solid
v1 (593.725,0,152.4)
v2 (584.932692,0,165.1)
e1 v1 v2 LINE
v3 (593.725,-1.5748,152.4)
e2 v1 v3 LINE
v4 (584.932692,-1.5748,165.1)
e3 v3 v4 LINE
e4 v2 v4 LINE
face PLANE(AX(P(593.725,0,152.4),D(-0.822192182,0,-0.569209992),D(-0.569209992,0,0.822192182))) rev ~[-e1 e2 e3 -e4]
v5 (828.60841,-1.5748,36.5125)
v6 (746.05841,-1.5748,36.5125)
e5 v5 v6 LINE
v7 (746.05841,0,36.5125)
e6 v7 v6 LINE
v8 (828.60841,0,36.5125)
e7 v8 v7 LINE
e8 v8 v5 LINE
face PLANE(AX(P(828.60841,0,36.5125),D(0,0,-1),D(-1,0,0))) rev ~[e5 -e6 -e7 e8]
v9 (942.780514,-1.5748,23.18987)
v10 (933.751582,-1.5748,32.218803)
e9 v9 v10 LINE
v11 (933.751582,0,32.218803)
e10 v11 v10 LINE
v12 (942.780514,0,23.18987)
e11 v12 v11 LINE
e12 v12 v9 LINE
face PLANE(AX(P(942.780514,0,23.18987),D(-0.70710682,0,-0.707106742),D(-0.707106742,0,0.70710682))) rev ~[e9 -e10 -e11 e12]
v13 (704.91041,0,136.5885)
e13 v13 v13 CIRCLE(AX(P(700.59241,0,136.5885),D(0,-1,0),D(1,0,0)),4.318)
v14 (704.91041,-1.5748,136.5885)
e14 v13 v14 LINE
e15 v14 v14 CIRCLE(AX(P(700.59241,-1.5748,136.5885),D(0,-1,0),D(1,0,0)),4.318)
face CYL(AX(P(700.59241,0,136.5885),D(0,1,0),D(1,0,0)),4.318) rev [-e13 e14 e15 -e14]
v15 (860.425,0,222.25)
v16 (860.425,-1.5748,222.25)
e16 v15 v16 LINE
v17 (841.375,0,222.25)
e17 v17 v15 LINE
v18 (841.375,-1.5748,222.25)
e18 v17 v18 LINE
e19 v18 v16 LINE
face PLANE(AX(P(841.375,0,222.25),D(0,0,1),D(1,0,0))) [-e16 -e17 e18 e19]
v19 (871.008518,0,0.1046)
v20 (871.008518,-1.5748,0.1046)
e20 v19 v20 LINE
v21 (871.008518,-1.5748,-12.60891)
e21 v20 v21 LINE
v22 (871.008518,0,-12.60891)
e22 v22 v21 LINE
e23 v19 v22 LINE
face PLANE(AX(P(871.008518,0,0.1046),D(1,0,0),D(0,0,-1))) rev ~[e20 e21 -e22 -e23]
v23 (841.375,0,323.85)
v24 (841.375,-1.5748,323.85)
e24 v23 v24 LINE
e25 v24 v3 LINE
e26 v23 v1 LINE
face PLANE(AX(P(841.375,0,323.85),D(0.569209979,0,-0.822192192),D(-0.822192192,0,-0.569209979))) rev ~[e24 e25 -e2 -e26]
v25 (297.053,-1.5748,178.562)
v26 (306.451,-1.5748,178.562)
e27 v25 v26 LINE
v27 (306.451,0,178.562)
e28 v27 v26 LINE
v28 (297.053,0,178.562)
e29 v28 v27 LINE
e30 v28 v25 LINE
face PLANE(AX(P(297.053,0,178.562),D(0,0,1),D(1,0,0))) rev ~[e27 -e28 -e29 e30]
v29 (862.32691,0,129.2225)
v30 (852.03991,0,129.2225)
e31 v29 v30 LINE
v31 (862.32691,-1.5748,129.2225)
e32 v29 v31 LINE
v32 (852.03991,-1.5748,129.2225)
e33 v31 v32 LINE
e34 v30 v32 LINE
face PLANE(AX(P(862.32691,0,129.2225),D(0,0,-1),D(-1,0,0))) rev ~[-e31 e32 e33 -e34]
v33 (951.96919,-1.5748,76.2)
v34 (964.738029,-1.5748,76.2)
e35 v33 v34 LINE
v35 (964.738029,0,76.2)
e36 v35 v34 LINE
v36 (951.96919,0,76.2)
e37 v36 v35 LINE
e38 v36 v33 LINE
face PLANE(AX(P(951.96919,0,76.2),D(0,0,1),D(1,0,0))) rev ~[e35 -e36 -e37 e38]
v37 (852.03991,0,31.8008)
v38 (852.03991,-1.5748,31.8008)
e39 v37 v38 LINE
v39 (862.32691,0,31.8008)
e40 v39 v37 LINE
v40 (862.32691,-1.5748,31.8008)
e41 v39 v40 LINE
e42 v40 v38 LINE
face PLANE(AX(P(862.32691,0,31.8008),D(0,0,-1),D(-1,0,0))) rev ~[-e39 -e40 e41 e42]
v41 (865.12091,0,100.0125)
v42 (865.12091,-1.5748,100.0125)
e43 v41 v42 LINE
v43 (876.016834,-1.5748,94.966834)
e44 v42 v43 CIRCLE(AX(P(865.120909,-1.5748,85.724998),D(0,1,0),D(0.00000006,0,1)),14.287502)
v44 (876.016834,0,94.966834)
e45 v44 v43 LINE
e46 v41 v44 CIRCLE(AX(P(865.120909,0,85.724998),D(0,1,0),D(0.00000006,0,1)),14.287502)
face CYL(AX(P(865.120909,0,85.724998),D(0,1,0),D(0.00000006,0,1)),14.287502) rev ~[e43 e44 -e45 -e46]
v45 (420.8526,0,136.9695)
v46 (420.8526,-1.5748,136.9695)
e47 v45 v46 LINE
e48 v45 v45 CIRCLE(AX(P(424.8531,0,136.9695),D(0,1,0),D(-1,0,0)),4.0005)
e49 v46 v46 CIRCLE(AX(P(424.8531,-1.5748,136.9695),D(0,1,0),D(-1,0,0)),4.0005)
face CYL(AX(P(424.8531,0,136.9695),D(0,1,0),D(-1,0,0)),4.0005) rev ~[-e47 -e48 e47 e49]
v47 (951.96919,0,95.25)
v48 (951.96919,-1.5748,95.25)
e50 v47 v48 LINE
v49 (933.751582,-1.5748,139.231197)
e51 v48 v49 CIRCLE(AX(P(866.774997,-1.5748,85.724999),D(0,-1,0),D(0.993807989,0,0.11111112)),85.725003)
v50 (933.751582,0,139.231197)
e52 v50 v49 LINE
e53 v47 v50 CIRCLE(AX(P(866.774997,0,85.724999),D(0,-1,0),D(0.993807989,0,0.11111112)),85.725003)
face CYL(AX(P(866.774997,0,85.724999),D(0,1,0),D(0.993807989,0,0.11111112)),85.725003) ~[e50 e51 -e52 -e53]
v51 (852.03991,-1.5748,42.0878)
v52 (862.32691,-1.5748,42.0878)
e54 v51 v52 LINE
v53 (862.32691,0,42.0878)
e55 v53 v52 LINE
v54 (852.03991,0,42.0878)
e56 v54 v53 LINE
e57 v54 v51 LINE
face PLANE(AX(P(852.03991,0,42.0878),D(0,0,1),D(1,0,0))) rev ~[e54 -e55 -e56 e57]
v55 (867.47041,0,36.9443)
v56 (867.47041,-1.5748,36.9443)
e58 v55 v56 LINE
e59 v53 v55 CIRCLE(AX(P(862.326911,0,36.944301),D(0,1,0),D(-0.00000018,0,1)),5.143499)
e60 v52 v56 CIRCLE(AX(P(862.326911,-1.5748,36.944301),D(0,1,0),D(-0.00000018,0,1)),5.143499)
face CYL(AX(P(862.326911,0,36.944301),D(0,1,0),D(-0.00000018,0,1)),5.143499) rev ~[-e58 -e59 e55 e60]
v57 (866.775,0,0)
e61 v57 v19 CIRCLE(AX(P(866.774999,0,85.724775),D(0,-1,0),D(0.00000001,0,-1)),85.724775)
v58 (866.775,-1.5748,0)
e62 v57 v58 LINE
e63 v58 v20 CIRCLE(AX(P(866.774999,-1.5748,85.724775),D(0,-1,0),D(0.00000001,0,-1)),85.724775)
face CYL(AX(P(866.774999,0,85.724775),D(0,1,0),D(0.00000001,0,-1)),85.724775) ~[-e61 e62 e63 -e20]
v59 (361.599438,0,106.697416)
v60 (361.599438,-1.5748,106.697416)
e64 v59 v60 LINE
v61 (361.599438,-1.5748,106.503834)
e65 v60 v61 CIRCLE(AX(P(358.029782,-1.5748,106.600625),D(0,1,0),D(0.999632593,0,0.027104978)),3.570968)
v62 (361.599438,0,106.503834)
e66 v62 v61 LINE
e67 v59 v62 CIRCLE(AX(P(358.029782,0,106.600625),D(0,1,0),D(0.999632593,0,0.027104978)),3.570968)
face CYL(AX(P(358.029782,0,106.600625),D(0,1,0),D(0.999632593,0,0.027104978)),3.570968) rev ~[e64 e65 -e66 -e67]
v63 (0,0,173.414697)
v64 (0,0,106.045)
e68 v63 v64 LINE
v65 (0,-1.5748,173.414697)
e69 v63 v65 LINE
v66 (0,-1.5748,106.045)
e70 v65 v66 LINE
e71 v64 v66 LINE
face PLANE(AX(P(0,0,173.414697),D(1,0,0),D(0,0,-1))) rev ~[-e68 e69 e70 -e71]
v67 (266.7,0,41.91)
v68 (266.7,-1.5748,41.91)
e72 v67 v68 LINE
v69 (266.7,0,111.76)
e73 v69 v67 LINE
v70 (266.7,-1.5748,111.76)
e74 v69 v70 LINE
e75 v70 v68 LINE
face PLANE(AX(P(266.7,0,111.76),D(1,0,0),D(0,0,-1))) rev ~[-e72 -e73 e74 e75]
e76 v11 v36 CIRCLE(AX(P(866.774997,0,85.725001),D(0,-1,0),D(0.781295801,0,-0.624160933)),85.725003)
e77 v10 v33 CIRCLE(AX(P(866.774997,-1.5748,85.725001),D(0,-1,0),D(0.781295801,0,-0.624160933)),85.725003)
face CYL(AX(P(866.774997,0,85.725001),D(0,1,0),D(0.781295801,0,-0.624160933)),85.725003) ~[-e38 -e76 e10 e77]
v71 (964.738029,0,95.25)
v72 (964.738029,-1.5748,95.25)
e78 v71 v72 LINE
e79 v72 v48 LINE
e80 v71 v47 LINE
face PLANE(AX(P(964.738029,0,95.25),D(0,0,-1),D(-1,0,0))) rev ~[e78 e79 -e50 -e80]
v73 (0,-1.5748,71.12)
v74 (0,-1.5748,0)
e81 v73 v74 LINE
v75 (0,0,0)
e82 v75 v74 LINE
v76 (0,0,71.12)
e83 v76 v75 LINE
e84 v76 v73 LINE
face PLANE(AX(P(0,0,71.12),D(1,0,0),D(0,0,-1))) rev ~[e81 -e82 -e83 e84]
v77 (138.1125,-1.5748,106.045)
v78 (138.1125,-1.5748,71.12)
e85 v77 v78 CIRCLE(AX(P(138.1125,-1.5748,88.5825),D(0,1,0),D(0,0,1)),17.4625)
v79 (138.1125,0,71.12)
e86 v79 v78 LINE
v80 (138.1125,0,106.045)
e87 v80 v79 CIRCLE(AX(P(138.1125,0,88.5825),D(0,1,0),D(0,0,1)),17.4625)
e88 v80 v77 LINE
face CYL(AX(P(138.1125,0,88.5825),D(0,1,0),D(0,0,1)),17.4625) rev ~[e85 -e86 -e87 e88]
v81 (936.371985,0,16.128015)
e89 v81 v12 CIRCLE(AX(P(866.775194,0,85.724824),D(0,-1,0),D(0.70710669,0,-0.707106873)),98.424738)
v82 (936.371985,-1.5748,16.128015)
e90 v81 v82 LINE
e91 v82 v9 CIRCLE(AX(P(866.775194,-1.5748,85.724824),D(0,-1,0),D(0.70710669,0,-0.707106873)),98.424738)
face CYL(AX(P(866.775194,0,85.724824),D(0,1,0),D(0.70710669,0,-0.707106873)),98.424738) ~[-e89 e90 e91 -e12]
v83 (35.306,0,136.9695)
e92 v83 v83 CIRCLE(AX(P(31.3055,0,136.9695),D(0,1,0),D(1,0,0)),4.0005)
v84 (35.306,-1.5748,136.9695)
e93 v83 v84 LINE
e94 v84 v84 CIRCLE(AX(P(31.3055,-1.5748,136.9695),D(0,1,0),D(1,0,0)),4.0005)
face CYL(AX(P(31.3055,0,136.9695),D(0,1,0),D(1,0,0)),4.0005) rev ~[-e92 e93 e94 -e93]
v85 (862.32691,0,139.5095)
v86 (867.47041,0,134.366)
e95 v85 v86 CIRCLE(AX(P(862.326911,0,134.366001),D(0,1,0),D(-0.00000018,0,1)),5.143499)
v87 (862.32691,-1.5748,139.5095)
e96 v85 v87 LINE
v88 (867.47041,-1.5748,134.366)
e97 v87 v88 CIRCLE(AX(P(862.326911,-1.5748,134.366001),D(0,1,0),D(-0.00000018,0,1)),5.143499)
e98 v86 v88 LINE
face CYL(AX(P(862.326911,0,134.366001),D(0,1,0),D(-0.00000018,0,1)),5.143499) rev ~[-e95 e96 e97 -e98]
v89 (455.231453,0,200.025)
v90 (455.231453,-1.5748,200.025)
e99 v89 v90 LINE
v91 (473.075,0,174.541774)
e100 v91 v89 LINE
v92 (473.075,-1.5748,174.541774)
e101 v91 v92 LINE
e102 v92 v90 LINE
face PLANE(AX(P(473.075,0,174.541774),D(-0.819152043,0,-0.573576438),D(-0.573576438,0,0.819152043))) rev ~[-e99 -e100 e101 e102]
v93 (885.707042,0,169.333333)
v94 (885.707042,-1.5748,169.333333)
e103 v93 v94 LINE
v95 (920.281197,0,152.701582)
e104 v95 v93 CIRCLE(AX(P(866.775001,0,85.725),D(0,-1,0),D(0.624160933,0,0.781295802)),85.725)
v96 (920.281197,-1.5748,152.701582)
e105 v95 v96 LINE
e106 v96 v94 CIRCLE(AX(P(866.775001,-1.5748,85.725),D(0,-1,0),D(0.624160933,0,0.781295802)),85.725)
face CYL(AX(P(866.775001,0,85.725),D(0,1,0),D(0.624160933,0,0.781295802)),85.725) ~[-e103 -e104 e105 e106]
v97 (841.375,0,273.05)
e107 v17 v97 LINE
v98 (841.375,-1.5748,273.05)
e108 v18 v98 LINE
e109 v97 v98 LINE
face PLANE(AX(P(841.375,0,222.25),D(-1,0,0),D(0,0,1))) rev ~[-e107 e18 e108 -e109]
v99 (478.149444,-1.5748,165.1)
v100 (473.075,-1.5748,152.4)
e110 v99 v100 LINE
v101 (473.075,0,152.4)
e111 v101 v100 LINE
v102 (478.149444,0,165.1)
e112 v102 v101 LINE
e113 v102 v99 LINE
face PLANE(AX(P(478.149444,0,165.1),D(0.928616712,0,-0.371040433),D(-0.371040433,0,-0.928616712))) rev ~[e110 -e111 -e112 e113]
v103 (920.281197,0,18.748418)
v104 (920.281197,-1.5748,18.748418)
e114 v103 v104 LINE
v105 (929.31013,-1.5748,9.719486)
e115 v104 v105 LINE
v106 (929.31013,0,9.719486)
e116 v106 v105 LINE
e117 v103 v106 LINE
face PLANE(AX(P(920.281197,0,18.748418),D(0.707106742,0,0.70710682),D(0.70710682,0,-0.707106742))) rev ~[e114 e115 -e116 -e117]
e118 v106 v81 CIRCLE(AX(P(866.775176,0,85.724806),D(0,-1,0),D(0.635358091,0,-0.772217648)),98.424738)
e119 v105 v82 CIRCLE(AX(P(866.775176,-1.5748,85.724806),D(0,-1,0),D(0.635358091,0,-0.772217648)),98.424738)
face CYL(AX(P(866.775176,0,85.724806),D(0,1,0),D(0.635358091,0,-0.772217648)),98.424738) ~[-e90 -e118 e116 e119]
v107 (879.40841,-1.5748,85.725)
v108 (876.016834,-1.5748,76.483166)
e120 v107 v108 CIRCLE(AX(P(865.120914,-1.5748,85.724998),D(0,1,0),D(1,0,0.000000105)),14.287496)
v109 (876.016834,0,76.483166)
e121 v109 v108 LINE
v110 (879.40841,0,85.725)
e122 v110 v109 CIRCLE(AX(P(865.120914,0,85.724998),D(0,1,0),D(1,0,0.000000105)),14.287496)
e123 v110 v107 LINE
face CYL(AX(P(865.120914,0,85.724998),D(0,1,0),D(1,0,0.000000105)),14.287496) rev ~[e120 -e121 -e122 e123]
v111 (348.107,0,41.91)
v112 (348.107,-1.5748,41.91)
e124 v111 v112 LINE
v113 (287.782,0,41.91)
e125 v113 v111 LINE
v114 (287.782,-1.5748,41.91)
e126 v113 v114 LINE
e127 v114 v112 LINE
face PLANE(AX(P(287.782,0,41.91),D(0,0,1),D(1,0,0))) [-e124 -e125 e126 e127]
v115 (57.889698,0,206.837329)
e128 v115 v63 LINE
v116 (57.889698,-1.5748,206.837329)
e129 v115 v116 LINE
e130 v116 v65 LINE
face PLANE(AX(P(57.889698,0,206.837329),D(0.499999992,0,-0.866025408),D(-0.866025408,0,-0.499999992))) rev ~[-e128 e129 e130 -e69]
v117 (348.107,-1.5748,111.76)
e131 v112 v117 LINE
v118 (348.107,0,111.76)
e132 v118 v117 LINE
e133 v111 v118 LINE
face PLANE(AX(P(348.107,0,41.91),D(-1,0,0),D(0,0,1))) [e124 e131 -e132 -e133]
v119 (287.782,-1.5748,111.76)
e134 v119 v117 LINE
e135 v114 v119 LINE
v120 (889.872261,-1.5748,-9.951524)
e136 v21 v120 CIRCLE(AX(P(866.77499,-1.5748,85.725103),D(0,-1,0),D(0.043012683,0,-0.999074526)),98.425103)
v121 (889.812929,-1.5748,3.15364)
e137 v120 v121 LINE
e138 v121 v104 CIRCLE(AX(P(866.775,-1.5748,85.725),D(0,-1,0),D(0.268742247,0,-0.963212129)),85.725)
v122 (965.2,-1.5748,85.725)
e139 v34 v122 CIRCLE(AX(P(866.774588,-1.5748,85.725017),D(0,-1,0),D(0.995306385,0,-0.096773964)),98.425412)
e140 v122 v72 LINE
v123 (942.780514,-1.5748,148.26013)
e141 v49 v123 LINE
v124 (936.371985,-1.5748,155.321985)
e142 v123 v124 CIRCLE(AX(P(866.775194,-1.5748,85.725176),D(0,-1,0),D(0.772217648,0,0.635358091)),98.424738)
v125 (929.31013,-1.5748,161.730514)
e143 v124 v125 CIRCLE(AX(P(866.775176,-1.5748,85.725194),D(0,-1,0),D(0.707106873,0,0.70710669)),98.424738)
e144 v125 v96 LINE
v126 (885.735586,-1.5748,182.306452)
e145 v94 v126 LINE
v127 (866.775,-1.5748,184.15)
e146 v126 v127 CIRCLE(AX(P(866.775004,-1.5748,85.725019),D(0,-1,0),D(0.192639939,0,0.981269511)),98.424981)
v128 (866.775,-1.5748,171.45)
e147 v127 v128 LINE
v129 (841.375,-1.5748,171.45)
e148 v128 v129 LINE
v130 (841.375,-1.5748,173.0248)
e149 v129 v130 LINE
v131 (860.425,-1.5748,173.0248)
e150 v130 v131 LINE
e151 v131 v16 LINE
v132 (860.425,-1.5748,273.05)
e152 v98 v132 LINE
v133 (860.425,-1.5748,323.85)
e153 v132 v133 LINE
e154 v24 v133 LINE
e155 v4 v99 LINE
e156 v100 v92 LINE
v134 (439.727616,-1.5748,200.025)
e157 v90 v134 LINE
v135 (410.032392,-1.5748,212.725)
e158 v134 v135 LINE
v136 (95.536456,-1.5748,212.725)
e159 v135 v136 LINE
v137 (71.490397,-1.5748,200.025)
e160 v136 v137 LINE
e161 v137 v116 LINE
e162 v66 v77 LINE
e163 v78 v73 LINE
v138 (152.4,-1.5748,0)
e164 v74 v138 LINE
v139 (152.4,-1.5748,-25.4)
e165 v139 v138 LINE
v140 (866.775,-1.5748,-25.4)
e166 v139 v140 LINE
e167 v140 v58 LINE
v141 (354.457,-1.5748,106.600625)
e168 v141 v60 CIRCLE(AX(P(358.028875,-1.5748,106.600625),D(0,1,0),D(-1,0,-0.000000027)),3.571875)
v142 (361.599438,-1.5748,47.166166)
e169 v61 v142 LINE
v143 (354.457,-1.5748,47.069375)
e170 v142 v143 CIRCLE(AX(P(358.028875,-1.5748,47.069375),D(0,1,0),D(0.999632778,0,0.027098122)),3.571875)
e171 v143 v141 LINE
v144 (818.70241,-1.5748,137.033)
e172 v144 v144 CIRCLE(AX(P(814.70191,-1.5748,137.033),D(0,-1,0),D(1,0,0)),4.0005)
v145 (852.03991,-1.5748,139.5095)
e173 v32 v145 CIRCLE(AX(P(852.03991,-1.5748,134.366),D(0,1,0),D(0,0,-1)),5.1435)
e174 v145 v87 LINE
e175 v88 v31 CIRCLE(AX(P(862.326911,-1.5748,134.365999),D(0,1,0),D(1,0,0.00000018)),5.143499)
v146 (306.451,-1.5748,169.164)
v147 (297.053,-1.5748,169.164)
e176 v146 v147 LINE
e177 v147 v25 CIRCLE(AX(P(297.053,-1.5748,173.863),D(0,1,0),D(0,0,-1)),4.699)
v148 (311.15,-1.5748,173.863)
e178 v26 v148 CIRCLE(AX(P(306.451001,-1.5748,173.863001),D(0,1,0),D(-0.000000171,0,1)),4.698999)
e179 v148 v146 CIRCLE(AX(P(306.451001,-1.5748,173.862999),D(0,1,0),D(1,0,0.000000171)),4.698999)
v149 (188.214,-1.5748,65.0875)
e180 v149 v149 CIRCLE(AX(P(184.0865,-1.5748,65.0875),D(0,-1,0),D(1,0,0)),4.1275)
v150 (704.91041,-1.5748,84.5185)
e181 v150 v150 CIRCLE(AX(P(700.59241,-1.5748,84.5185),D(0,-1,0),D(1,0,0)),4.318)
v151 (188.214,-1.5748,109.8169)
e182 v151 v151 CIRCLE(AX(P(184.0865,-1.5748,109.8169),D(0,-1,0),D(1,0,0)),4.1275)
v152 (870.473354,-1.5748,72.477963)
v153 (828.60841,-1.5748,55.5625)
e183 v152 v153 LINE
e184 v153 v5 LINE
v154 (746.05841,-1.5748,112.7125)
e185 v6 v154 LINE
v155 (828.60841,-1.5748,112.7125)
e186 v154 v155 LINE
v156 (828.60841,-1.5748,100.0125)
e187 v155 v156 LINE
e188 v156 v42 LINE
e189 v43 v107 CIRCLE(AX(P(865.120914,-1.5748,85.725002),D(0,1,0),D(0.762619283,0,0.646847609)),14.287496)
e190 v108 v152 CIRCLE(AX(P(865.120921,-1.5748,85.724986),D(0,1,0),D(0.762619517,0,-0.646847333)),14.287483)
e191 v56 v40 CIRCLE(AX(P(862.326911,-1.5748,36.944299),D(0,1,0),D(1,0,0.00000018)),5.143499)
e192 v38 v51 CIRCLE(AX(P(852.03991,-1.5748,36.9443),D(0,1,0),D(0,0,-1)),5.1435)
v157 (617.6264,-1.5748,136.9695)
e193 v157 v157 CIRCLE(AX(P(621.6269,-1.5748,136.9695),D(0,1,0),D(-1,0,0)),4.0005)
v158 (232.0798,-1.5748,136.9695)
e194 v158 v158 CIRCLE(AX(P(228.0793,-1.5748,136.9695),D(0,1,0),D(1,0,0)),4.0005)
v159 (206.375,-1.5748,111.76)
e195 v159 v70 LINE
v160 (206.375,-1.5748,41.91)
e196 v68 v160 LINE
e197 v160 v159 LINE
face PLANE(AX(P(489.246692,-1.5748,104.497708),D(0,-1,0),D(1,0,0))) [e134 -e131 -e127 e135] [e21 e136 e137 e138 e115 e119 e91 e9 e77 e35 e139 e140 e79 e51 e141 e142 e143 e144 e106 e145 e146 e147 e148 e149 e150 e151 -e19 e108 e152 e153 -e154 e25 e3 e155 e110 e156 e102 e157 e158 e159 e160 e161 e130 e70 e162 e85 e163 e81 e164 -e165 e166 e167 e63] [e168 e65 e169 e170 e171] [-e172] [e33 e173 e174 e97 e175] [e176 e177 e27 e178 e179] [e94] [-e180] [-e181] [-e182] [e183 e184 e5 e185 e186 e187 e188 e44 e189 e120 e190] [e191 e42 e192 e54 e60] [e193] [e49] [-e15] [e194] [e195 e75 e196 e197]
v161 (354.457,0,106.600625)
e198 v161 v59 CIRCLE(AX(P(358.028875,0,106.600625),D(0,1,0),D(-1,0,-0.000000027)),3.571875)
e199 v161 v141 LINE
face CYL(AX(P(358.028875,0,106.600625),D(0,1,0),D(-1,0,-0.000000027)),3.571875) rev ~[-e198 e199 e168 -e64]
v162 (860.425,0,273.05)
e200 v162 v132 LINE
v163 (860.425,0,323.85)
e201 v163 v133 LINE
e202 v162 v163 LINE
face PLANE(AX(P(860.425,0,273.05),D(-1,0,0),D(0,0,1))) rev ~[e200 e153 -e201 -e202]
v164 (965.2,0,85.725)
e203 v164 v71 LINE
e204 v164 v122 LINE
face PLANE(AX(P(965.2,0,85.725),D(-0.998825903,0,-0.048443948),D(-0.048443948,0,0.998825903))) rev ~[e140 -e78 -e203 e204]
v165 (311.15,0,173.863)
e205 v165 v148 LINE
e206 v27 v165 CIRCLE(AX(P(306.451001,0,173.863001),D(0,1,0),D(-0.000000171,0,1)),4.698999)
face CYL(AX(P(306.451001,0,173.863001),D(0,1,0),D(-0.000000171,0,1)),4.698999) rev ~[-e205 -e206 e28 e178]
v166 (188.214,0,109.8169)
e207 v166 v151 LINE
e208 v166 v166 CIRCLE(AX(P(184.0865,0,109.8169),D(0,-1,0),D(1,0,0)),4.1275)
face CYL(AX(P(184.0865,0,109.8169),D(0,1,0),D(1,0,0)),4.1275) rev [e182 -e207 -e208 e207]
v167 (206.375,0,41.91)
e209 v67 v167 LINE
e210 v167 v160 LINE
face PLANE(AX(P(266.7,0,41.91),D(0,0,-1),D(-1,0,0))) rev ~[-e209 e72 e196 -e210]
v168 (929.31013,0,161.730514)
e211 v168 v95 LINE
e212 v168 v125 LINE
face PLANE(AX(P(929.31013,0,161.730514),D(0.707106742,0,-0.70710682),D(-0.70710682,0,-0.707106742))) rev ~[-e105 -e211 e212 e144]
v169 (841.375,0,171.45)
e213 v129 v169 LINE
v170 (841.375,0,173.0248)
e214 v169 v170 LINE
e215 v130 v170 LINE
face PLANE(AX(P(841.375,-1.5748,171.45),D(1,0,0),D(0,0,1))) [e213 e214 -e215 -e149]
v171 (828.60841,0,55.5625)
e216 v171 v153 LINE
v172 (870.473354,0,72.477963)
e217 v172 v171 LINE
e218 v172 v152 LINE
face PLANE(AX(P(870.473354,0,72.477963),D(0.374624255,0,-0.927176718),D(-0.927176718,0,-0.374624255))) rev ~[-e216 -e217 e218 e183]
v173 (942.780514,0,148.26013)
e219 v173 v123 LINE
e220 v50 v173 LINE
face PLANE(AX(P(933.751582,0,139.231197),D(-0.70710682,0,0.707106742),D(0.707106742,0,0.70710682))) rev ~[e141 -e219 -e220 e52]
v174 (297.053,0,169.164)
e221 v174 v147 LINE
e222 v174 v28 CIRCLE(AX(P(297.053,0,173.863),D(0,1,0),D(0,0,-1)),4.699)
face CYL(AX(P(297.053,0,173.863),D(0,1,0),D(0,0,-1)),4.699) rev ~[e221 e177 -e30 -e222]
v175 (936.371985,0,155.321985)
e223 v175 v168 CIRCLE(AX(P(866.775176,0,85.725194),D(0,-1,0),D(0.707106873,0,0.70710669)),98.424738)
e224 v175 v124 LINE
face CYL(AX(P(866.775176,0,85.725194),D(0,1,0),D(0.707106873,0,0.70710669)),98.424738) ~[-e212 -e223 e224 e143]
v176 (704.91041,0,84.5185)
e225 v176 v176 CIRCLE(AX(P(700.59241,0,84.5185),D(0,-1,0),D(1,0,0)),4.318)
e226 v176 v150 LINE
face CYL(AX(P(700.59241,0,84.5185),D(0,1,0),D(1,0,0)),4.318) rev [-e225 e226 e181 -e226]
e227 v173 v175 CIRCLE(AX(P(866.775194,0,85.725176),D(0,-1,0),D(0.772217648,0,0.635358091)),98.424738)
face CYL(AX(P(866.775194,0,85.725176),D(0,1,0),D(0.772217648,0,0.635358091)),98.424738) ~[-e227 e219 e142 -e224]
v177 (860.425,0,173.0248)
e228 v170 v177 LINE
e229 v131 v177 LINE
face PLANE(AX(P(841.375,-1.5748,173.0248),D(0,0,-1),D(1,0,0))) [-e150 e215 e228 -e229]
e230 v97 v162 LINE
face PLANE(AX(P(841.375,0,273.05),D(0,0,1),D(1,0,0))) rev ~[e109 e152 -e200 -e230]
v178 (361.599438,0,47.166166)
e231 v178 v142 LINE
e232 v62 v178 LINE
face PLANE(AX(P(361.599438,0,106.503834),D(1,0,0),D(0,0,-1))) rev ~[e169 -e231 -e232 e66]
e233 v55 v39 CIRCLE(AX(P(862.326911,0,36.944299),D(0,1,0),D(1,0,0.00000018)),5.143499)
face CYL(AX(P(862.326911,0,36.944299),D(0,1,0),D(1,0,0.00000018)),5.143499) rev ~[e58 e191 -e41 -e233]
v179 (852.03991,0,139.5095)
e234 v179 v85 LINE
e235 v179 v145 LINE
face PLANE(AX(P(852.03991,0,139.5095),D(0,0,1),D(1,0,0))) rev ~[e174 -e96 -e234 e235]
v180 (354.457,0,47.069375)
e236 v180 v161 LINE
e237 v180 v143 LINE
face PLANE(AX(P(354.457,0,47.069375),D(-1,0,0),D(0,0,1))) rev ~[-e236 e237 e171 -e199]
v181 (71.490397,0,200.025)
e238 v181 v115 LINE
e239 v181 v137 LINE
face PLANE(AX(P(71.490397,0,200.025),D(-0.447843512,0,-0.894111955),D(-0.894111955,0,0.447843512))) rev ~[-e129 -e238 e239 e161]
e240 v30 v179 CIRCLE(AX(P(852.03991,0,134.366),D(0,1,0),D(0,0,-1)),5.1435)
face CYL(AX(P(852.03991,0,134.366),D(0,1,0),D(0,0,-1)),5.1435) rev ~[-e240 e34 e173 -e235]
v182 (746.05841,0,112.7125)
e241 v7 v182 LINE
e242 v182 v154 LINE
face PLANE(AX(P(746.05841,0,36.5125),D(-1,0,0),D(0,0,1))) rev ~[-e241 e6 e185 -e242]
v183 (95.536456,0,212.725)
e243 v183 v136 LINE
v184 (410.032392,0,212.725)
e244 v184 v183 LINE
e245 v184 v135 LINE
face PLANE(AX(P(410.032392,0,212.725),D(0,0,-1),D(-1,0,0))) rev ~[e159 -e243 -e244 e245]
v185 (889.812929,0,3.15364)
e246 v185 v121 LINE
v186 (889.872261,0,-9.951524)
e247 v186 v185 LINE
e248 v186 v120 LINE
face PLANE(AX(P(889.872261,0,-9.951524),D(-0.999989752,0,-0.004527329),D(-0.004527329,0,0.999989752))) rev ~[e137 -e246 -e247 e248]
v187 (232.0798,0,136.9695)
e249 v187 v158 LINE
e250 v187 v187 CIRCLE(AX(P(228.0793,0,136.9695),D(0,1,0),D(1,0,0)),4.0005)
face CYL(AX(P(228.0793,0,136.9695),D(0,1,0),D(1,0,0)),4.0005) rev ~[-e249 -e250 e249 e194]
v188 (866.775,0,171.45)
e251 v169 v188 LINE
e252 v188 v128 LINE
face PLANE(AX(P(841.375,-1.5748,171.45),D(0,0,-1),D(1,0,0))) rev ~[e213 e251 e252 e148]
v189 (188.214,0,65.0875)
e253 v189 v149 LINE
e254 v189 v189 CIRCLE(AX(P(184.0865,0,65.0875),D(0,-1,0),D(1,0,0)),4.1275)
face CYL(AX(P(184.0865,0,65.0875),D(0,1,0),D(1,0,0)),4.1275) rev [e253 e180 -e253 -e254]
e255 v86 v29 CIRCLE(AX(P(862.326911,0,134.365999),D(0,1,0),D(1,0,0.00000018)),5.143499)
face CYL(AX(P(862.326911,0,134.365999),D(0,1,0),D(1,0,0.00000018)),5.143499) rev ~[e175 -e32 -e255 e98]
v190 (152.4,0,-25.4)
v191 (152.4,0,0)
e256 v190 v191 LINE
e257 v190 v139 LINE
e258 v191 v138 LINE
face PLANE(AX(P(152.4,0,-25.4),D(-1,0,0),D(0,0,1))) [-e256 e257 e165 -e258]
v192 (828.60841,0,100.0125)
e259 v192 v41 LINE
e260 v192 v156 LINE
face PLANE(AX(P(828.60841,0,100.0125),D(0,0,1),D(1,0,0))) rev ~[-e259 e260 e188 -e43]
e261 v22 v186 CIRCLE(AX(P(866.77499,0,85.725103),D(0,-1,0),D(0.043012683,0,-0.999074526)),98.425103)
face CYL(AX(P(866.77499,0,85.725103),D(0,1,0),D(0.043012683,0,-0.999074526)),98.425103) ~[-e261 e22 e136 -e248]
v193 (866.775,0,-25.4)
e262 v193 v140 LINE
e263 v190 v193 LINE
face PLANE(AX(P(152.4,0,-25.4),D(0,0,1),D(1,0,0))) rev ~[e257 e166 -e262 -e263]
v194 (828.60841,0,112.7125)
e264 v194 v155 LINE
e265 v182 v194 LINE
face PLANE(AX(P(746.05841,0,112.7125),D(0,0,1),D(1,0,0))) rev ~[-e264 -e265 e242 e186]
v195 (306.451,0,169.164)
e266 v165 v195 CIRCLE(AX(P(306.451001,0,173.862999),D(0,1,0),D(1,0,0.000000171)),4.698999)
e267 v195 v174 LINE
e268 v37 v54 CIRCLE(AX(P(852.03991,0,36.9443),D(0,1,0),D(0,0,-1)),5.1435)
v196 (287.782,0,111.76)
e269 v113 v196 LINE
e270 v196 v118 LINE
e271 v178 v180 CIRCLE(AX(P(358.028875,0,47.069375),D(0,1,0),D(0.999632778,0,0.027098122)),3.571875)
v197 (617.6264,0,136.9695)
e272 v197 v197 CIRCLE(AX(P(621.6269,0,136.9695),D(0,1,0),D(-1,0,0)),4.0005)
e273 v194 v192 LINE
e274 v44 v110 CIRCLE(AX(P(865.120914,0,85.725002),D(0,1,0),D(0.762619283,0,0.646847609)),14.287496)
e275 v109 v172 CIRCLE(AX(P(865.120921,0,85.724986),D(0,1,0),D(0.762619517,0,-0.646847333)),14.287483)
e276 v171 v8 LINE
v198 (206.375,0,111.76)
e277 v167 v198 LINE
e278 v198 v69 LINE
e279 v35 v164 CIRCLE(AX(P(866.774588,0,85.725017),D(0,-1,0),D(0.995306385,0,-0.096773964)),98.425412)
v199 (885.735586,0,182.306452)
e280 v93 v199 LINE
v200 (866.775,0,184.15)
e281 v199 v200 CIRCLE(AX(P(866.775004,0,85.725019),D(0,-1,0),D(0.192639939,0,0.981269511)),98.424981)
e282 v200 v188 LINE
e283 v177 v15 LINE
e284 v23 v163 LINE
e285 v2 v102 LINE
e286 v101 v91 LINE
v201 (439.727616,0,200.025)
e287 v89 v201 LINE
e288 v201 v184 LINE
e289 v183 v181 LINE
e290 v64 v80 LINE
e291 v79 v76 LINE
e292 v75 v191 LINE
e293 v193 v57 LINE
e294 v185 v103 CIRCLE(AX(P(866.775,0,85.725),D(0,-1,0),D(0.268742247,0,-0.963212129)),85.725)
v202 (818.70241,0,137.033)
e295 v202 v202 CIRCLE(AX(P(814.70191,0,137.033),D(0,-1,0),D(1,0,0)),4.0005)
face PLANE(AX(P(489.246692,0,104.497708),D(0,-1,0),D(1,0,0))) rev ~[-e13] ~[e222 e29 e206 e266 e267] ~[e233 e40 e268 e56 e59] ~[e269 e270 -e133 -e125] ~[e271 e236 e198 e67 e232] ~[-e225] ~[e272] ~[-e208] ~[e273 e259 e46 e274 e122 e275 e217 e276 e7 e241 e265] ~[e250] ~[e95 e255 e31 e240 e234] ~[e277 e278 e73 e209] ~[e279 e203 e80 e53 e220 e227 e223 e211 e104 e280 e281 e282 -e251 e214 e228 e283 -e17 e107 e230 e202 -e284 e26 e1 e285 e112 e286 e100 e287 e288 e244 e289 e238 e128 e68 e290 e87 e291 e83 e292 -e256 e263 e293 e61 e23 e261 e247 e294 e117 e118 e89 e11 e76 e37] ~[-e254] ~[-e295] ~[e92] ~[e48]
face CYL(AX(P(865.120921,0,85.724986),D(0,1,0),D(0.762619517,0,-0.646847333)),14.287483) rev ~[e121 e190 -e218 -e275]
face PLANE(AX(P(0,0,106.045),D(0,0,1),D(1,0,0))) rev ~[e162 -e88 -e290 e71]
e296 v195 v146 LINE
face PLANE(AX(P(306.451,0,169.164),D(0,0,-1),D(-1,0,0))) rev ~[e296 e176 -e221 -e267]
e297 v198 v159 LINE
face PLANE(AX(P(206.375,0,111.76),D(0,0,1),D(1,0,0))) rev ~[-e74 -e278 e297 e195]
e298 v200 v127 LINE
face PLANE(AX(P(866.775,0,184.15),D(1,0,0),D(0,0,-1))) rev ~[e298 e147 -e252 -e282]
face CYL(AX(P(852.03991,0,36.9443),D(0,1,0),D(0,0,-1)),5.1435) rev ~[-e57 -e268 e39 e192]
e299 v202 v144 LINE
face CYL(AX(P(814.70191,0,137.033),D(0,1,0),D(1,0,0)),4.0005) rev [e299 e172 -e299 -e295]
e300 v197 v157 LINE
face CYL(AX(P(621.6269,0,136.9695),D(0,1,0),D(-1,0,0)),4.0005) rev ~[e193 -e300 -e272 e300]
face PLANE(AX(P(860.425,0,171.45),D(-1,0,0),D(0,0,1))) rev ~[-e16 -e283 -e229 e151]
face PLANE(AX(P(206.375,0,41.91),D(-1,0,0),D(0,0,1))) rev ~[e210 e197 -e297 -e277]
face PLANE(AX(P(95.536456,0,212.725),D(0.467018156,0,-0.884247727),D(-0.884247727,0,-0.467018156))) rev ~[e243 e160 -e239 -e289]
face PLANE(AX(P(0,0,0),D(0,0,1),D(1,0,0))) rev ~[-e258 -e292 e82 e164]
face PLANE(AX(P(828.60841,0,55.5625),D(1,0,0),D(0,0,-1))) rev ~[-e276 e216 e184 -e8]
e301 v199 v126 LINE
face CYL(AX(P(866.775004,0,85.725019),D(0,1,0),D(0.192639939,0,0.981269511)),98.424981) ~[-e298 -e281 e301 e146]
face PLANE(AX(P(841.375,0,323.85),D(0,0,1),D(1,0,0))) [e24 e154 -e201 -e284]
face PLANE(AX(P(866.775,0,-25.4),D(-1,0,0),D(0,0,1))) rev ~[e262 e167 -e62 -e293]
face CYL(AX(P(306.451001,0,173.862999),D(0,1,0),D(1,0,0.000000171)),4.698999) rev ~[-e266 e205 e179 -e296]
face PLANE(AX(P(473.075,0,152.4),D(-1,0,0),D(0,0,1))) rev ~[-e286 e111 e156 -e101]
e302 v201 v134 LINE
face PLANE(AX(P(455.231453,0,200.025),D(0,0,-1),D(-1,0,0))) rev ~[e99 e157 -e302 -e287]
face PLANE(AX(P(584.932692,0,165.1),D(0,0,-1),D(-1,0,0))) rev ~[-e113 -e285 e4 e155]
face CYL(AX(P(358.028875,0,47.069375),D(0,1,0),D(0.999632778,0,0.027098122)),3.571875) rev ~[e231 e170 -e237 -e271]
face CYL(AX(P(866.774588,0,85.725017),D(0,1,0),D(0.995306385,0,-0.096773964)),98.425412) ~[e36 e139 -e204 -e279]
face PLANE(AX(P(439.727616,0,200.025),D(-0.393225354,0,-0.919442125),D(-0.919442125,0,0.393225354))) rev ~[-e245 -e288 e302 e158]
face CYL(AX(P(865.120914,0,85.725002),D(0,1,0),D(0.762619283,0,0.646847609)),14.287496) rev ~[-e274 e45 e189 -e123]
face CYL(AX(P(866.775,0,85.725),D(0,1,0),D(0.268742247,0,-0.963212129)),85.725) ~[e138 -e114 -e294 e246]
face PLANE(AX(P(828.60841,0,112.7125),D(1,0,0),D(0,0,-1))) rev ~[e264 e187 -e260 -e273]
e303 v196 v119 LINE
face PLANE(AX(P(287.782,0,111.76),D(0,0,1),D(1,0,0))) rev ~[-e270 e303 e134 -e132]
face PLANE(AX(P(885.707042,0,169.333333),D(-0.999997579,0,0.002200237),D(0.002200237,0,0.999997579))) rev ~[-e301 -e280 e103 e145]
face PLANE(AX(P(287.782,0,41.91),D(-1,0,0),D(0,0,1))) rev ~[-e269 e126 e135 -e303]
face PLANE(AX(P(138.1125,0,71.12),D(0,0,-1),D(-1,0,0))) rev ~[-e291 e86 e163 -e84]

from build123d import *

# Parameters (mm, degrees)
F0_R     = 4.1275
F0_W     = 60.325
F0_H     = 69.85
F0_R_2   = 4.318
F0_R_3   = 4.0005
F0_W_2   = 19.05
F0_H_2   = 50.8
F0_W_3   = 714.375
F0_H_3   = 25.4
F1_DEPTH = 1.5748
F2_W     = 19.05
F2_H     = 1.5748
F3_DEPTH = 25.4


with BuildPart() as f1:
    # F0 (on Front) → F1 (new body)
    with BuildSketch(Plane.XZ):
        with BuildLine():
            Line((0, 71.12), (0, 0))
            Line((0, 0), (152.4, 0))
            Line((152.4, 0), (866.775, 0))
            ThreePointArc((866.775, 0), (868.892405, 0.026154), (871.008518, 0.1046))
            ThreePointArc((871.008518, 0.1046), (880.495682, 1.105153), (889.812929, 3.15364))
            ThreePointArc((889.812929, 3.15364), (905.833291, 9.414938), (920.281197, 18.748418))
            ThreePointArc((920.281197, 18.748418), (923.925, 21.829358), (927.391729, 25.108271))
            Line((927.391729, 25.108271), (876.016834, 76.483166))
            ThreePointArc((876.016834, 76.483166), (873.488274, 74.143986), (870.473354, 72.477963))
            Line((870.473354, 72.477963), (828.60841, 55.5625))
            Line((828.60841, 55.5625), (828.60841, 36.5125))
            Line((828.60841, 36.5125), (746.05841, 36.5125))
            Line((746.05841, 36.5125), (746.05841, 112.7125))
            Line((746.05841, 112.7125), (828.60841, 112.7125))
            Line((828.60841, 112.7125), (828.60841, 100.0125))
            Line((828.60841, 100.0125), (865.12091, 100.0125))
            ThreePointArc((865.12091, 100.0125), (871.124657, 98.689863), (876.016834, 94.966834))
            Line((876.016834, 94.966834), (927.391729, 146.341729))
            ThreePointArc((927.391729, 146.341729), (923.925, 149.620642), (920.281197, 152.701582))
            ThreePointArc((920.281197, 152.701582), (903.936518, 162.976519), (885.707042, 169.333333))
            ThreePointArc((885.707042, 169.333333), (876.3, 170.91919), (866.775, 171.45))
            Line((866.775, 171.45), (860.425, 171.45))
            Line((860.425, 171.45), (841.375, 171.45))
            Line((841.375, 171.45), (841.375, 222.25))
            Line((841.375, 222.25), (841.375, 273.05))
            Line((841.375, 273.05), (841.375, 323.85))
            Line((841.375, 323.85), (593.725, 152.4))
            Line((593.725, 152.4), (473.075, 152.4))
            Line((473.075, 152.4), (439.727616, 200.025))
            Line((439.727616, 200.025), (71.490397, 200.025))
            Line((71.490397, 200.025), (0, 158.75))
            Line((0, 158.75), (0, 106.045))
            Line((0, 106.045), (138.1125, 106.045))
            ThreePointArc((138.1125, 106.045), (155.575, 88.5825), (138.1125, 71.12))
            Line((138.1125, 71.12), (0, 71.12))
        make_face()
        with Locations((184.0865, 65.0875)):
            Circle(F0_R, mode=Mode.SUBTRACT)
        Polygon((206.375, 41.91), (206.375, 88.5825), (206.375, 111.76), (266.7, 111.76), (266.7, 41.91), align=None, mode=Mode.SUBTRACT)
        with BuildLine():
            ThreePointArc((27.305, 136.9695), (31.3055, 140.97), (35.306, 136.9695))
            ThreePointArc((35.306, 136.9695), (31.3055, 132.969), (27.305, 136.9695))
        make_face(mode=Mode.SUBTRACT)
        with Locations((184.0865, 109.8169)):
            Circle(F0_R, mode=Mode.SUBTRACT)
        with BuildLine():
            ThreePointArc((224.0788, 136.9695), (228.0793, 140.97), (232.0798, 136.9695))
            ThreePointArc((232.0798, 136.9695), (228.0793, 132.969), (224.0788, 136.9695))
        make_face(mode=Mode.SUBTRACT)
        with Locations((317.9445, 76.835)):
            Rectangle(F0_W, F0_H, mode=Mode.SUBTRACT)
        with BuildLine():
            ThreePointArc((361.599438, 47.166166), (358.077275, 43.497828), (354.457, 47.069375))
            Line((354.457, 47.069375), (354.457, 106.600625))
            ThreePointArc((354.457, 106.600625), (357.980475, 110.172172), (361.599438, 106.697416))
            ThreePointArc((361.599438, 106.697416), (361.60075, 106.600625), (361.599438, 106.503834))
            Line((361.599438, 106.503834), (361.599438, 47.166166))
        make_face(mode=Mode.SUBTRACT)
        with BuildLine():
            ThreePointArc((428.8536, 136.9695), (424.8531, 132.969), (420.8526, 136.9695))
            ThreePointArc((420.8526, 136.9695), (424.8531, 140.97), (428.8536, 136.9695))
        make_face(mode=Mode.SUBTRACT)
        with BuildLine():
            ThreePointArc((852.03991, 31.8008), (846.89641, 36.9443), (852.03991, 42.0878))
            Line((852.03991, 42.0878), (862.32691, 42.0878))
            ThreePointArc((862.32691, 42.0878), (865.963914, 40.581304), (867.47041, 36.9443))
            ThreePointArc((867.47041, 36.9443), (865.963914, 33.307296), (862.32691, 31.8008))
            Line((862.32691, 31.8008), (852.03991, 31.8008))
        make_face(mode=Mode.SUBTRACT)
        with Locations((700.59241, 84.5185)):
            Circle(F0_R_2, mode=Mode.SUBTRACT)
        with BuildLine():
            ThreePointArc((625.6274, 136.9695), (621.6269, 132.969), (617.6264, 136.9695))
            ThreePointArc((617.6264, 136.9695), (621.6269, 140.97), (625.6274, 136.9695))
        make_face(mode=Mode.SUBTRACT)
        with Locations((700.59241, 136.5885)):
            Circle(F0_R_2, mode=Mode.SUBTRACT)
        with Locations((814.70191, 137.033)):
            Circle(F0_R_3, mode=Mode.SUBTRACT)
        with BuildLine():
            ThreePointArc((852.03991, 129.2225), (846.89641, 134.366), (852.03991, 139.5095))
            Line((852.03991, 139.5095), (862.32691, 139.5095))
            ThreePointArc((862.32691, 139.5095), (865.963914, 138.003004), (867.47041, 134.366))
            ThreePointArc((867.47041, 134.366), (865.963914, 130.728996), (862.32691, 129.2225))
            Line((862.32691, 129.2225), (852.03991, 129.2225))
        make_face(mode=Mode.SUBTRACT)
        with BuildLine():
            ThreePointArc((306.451, 178.562), (309.773695, 177.185695), (311.15, 173.863))
            ThreePointArc((311.15, 173.863), (309.773695, 170.540305), (306.451, 169.164))
            Line((306.451, 169.164), (297.053, 169.164))
            ThreePointArc((297.053, 169.164), (292.354, 173.863), (297.053, 178.562))
            Line((297.053, 178.562), (306.451, 178.562))
        make_face(mode=Mode.SUBTRACT)
        with BuildLine():
            ThreePointArc((876.016834, 94.966834), (878.533743, 90.647253), (879.40841, 85.725))
            Line((879.40841, 85.725), (952.5, 85.725))
            ThreePointArc((952.5, 85.725), (952.367195, 90.49489), (951.96919, 95.25))
            ThreePointArc((951.96919, 95.25), (945.974573, 118.530537), (933.751582, 139.231197))
            ThreePointArc((933.751582, 139.231197), (930.670642, 142.875), (927.391729, 146.341729))
            Line((927.391729, 146.341729), (876.016834, 94.966834))
        make_face()
        with BuildLine():
            Line((876.016834, 76.483166), (927.391729, 25.108271))
            ThreePointArc((927.391729, 25.108271), (930.670642, 28.575), (933.751582, 32.218803))
            ThreePointArc((933.751582, 32.218803), (945.974573, 52.919463), (951.96919, 76.2))
            ThreePointArc((951.96919, 76.2), (952.367195, 80.95511), (952.5, 85.725))
            Line((952.5, 85.725), (879.40841, 85.725))
            ThreePointArc((879.40841, 85.725), (878.533743, 80.802747), (876.016834, 76.483166))
        make_face()
        with BuildLine():
            ThreePointArc((866.775, 171.45), (876.3, 170.91919), (885.707042, 169.333333))
            Line((885.707042, 169.333333), (885.735586, 182.306452))
            ThreePointArc((885.735586, 182.306452), (876.3, 183.688029), (866.775, 184.15))
            Line((866.775, 184.15), (866.775, 171.45))
        make_face()
        with Locations((850.9, 196.85)):
            Rectangle(F0_W_2, F0_H_2)
        with Locations((850.9, 298.45)):
            Rectangle(F0_W_2, F0_H_2)
        with BuildLine():
            ThreePointArc((920.281197, 152.701582), (923.925, 149.620642), (927.391729, 146.341729))
            Line((927.391729, 146.341729), (936.371985, 155.321985))
            ThreePointArc((936.371985, 155.321985), (932.918717, 158.611826), (929.31013, 161.730514))
            Line((929.31013, 161.730514), (920.281197, 152.701582))
        make_face()
        with BuildLine():
            Line((936.371985, 155.321985), (927.391729, 146.341729))
            ThreePointArc((927.391729, 146.341729), (930.670642, 142.875), (933.751582, 139.231197))
            Line((933.751582, 139.231197), (942.780514, 148.26013))
            ThreePointArc((942.780514, 148.26013), (939.661826, 151.868717), (936.371985, 155.321985))
        make_face()
        with BuildLine():
            ThreePointArc((951.96919, 95.25), (952.367195, 90.49489), (952.5, 85.725))
            Line((952.5, 85.725), (965.2, 85.725))
            Line((965.2, 85.725), (964.738029, 95.25))
            Line((964.738029, 95.25), (951.96919, 95.25))
        make_face()
        with BuildLine():
            ThreePointArc((952.5, 85.725), (952.367195, 80.95511), (951.96919, 76.2))
            Line((951.96919, 76.2), (964.738029, 76.2))
            ThreePointArc((964.738029, 76.2), (965.084439, 80.956902), (965.2, 85.725))
            Line((965.2, 85.725), (952.5, 85.725))
        make_face()
        with BuildLine():
            ThreePointArc((933.751582, 32.218803), (930.670642, 28.575), (927.391729, 25.108271))
            Line((927.391729, 25.108271), (936.371985, 16.128015))
            ThreePointArc((936.371985, 16.128015), (939.661826, 19.581283), (942.780514, 23.18987))
            Line((942.780514, 23.18987), (933.751582, 32.218803))
        make_face()
        with BuildLine():
            ThreePointArc((927.391729, 25.108271), (923.925, 21.829358), (920.281197, 18.748418))
            Line((920.281197, 18.748418), (929.31013, 9.719486))
            ThreePointArc((929.31013, 9.719486), (932.918717, 12.838174), (936.371985, 16.128015))
            Line((936.371985, 16.128015), (927.391729, 25.108271))
        make_face()
        with BuildLine():
            ThreePointArc((889.812929, 3.15364), (880.495682, 1.105153), (871.008518, 0.1046))
            Line((871.008518, 0.1046), (871.008518, -12.60891))
            ThreePointArc((871.008518, -12.60891), (880.504832, -11.737671), (889.872261, -9.951524))
            Line((889.872261, -9.951524), (889.812929, 3.15364))
        make_face()
        with Locations((509.5875, -12.7)):
            Rectangle(F0_W_3, F0_H_3)
        Polygon((478.149444, 165.1), (473.075, 152.4), (593.725, 152.4), (584.932692, 165.1), align=None)
        Polygon((455.231453, 200.025), (439.727616, 200.025), (473.075, 152.4), (473.075, 174.541774), align=None)
        Polygon((95.536456, 212.725), (71.490397, 200.025), (439.727616, 200.025), (410.032392, 212.725), align=None)
        Polygon((0, 173.414697), (0, 158.75), (71.490397, 200.025), (57.889698, 206.837329), align=None)
    extrude(amount=F1_DEPTH)

    # F2 (on face) → F3 (cut)
    with BuildSketch(Plane.XZ.offset(1.5748)):
        with Locations((850.9, 172.2374)):
            Rectangle(F2_W, F2_H)
    extrude(amount=-F3_DEPTH, mode=Mode.SUBTRACT)


solid = f1.part
